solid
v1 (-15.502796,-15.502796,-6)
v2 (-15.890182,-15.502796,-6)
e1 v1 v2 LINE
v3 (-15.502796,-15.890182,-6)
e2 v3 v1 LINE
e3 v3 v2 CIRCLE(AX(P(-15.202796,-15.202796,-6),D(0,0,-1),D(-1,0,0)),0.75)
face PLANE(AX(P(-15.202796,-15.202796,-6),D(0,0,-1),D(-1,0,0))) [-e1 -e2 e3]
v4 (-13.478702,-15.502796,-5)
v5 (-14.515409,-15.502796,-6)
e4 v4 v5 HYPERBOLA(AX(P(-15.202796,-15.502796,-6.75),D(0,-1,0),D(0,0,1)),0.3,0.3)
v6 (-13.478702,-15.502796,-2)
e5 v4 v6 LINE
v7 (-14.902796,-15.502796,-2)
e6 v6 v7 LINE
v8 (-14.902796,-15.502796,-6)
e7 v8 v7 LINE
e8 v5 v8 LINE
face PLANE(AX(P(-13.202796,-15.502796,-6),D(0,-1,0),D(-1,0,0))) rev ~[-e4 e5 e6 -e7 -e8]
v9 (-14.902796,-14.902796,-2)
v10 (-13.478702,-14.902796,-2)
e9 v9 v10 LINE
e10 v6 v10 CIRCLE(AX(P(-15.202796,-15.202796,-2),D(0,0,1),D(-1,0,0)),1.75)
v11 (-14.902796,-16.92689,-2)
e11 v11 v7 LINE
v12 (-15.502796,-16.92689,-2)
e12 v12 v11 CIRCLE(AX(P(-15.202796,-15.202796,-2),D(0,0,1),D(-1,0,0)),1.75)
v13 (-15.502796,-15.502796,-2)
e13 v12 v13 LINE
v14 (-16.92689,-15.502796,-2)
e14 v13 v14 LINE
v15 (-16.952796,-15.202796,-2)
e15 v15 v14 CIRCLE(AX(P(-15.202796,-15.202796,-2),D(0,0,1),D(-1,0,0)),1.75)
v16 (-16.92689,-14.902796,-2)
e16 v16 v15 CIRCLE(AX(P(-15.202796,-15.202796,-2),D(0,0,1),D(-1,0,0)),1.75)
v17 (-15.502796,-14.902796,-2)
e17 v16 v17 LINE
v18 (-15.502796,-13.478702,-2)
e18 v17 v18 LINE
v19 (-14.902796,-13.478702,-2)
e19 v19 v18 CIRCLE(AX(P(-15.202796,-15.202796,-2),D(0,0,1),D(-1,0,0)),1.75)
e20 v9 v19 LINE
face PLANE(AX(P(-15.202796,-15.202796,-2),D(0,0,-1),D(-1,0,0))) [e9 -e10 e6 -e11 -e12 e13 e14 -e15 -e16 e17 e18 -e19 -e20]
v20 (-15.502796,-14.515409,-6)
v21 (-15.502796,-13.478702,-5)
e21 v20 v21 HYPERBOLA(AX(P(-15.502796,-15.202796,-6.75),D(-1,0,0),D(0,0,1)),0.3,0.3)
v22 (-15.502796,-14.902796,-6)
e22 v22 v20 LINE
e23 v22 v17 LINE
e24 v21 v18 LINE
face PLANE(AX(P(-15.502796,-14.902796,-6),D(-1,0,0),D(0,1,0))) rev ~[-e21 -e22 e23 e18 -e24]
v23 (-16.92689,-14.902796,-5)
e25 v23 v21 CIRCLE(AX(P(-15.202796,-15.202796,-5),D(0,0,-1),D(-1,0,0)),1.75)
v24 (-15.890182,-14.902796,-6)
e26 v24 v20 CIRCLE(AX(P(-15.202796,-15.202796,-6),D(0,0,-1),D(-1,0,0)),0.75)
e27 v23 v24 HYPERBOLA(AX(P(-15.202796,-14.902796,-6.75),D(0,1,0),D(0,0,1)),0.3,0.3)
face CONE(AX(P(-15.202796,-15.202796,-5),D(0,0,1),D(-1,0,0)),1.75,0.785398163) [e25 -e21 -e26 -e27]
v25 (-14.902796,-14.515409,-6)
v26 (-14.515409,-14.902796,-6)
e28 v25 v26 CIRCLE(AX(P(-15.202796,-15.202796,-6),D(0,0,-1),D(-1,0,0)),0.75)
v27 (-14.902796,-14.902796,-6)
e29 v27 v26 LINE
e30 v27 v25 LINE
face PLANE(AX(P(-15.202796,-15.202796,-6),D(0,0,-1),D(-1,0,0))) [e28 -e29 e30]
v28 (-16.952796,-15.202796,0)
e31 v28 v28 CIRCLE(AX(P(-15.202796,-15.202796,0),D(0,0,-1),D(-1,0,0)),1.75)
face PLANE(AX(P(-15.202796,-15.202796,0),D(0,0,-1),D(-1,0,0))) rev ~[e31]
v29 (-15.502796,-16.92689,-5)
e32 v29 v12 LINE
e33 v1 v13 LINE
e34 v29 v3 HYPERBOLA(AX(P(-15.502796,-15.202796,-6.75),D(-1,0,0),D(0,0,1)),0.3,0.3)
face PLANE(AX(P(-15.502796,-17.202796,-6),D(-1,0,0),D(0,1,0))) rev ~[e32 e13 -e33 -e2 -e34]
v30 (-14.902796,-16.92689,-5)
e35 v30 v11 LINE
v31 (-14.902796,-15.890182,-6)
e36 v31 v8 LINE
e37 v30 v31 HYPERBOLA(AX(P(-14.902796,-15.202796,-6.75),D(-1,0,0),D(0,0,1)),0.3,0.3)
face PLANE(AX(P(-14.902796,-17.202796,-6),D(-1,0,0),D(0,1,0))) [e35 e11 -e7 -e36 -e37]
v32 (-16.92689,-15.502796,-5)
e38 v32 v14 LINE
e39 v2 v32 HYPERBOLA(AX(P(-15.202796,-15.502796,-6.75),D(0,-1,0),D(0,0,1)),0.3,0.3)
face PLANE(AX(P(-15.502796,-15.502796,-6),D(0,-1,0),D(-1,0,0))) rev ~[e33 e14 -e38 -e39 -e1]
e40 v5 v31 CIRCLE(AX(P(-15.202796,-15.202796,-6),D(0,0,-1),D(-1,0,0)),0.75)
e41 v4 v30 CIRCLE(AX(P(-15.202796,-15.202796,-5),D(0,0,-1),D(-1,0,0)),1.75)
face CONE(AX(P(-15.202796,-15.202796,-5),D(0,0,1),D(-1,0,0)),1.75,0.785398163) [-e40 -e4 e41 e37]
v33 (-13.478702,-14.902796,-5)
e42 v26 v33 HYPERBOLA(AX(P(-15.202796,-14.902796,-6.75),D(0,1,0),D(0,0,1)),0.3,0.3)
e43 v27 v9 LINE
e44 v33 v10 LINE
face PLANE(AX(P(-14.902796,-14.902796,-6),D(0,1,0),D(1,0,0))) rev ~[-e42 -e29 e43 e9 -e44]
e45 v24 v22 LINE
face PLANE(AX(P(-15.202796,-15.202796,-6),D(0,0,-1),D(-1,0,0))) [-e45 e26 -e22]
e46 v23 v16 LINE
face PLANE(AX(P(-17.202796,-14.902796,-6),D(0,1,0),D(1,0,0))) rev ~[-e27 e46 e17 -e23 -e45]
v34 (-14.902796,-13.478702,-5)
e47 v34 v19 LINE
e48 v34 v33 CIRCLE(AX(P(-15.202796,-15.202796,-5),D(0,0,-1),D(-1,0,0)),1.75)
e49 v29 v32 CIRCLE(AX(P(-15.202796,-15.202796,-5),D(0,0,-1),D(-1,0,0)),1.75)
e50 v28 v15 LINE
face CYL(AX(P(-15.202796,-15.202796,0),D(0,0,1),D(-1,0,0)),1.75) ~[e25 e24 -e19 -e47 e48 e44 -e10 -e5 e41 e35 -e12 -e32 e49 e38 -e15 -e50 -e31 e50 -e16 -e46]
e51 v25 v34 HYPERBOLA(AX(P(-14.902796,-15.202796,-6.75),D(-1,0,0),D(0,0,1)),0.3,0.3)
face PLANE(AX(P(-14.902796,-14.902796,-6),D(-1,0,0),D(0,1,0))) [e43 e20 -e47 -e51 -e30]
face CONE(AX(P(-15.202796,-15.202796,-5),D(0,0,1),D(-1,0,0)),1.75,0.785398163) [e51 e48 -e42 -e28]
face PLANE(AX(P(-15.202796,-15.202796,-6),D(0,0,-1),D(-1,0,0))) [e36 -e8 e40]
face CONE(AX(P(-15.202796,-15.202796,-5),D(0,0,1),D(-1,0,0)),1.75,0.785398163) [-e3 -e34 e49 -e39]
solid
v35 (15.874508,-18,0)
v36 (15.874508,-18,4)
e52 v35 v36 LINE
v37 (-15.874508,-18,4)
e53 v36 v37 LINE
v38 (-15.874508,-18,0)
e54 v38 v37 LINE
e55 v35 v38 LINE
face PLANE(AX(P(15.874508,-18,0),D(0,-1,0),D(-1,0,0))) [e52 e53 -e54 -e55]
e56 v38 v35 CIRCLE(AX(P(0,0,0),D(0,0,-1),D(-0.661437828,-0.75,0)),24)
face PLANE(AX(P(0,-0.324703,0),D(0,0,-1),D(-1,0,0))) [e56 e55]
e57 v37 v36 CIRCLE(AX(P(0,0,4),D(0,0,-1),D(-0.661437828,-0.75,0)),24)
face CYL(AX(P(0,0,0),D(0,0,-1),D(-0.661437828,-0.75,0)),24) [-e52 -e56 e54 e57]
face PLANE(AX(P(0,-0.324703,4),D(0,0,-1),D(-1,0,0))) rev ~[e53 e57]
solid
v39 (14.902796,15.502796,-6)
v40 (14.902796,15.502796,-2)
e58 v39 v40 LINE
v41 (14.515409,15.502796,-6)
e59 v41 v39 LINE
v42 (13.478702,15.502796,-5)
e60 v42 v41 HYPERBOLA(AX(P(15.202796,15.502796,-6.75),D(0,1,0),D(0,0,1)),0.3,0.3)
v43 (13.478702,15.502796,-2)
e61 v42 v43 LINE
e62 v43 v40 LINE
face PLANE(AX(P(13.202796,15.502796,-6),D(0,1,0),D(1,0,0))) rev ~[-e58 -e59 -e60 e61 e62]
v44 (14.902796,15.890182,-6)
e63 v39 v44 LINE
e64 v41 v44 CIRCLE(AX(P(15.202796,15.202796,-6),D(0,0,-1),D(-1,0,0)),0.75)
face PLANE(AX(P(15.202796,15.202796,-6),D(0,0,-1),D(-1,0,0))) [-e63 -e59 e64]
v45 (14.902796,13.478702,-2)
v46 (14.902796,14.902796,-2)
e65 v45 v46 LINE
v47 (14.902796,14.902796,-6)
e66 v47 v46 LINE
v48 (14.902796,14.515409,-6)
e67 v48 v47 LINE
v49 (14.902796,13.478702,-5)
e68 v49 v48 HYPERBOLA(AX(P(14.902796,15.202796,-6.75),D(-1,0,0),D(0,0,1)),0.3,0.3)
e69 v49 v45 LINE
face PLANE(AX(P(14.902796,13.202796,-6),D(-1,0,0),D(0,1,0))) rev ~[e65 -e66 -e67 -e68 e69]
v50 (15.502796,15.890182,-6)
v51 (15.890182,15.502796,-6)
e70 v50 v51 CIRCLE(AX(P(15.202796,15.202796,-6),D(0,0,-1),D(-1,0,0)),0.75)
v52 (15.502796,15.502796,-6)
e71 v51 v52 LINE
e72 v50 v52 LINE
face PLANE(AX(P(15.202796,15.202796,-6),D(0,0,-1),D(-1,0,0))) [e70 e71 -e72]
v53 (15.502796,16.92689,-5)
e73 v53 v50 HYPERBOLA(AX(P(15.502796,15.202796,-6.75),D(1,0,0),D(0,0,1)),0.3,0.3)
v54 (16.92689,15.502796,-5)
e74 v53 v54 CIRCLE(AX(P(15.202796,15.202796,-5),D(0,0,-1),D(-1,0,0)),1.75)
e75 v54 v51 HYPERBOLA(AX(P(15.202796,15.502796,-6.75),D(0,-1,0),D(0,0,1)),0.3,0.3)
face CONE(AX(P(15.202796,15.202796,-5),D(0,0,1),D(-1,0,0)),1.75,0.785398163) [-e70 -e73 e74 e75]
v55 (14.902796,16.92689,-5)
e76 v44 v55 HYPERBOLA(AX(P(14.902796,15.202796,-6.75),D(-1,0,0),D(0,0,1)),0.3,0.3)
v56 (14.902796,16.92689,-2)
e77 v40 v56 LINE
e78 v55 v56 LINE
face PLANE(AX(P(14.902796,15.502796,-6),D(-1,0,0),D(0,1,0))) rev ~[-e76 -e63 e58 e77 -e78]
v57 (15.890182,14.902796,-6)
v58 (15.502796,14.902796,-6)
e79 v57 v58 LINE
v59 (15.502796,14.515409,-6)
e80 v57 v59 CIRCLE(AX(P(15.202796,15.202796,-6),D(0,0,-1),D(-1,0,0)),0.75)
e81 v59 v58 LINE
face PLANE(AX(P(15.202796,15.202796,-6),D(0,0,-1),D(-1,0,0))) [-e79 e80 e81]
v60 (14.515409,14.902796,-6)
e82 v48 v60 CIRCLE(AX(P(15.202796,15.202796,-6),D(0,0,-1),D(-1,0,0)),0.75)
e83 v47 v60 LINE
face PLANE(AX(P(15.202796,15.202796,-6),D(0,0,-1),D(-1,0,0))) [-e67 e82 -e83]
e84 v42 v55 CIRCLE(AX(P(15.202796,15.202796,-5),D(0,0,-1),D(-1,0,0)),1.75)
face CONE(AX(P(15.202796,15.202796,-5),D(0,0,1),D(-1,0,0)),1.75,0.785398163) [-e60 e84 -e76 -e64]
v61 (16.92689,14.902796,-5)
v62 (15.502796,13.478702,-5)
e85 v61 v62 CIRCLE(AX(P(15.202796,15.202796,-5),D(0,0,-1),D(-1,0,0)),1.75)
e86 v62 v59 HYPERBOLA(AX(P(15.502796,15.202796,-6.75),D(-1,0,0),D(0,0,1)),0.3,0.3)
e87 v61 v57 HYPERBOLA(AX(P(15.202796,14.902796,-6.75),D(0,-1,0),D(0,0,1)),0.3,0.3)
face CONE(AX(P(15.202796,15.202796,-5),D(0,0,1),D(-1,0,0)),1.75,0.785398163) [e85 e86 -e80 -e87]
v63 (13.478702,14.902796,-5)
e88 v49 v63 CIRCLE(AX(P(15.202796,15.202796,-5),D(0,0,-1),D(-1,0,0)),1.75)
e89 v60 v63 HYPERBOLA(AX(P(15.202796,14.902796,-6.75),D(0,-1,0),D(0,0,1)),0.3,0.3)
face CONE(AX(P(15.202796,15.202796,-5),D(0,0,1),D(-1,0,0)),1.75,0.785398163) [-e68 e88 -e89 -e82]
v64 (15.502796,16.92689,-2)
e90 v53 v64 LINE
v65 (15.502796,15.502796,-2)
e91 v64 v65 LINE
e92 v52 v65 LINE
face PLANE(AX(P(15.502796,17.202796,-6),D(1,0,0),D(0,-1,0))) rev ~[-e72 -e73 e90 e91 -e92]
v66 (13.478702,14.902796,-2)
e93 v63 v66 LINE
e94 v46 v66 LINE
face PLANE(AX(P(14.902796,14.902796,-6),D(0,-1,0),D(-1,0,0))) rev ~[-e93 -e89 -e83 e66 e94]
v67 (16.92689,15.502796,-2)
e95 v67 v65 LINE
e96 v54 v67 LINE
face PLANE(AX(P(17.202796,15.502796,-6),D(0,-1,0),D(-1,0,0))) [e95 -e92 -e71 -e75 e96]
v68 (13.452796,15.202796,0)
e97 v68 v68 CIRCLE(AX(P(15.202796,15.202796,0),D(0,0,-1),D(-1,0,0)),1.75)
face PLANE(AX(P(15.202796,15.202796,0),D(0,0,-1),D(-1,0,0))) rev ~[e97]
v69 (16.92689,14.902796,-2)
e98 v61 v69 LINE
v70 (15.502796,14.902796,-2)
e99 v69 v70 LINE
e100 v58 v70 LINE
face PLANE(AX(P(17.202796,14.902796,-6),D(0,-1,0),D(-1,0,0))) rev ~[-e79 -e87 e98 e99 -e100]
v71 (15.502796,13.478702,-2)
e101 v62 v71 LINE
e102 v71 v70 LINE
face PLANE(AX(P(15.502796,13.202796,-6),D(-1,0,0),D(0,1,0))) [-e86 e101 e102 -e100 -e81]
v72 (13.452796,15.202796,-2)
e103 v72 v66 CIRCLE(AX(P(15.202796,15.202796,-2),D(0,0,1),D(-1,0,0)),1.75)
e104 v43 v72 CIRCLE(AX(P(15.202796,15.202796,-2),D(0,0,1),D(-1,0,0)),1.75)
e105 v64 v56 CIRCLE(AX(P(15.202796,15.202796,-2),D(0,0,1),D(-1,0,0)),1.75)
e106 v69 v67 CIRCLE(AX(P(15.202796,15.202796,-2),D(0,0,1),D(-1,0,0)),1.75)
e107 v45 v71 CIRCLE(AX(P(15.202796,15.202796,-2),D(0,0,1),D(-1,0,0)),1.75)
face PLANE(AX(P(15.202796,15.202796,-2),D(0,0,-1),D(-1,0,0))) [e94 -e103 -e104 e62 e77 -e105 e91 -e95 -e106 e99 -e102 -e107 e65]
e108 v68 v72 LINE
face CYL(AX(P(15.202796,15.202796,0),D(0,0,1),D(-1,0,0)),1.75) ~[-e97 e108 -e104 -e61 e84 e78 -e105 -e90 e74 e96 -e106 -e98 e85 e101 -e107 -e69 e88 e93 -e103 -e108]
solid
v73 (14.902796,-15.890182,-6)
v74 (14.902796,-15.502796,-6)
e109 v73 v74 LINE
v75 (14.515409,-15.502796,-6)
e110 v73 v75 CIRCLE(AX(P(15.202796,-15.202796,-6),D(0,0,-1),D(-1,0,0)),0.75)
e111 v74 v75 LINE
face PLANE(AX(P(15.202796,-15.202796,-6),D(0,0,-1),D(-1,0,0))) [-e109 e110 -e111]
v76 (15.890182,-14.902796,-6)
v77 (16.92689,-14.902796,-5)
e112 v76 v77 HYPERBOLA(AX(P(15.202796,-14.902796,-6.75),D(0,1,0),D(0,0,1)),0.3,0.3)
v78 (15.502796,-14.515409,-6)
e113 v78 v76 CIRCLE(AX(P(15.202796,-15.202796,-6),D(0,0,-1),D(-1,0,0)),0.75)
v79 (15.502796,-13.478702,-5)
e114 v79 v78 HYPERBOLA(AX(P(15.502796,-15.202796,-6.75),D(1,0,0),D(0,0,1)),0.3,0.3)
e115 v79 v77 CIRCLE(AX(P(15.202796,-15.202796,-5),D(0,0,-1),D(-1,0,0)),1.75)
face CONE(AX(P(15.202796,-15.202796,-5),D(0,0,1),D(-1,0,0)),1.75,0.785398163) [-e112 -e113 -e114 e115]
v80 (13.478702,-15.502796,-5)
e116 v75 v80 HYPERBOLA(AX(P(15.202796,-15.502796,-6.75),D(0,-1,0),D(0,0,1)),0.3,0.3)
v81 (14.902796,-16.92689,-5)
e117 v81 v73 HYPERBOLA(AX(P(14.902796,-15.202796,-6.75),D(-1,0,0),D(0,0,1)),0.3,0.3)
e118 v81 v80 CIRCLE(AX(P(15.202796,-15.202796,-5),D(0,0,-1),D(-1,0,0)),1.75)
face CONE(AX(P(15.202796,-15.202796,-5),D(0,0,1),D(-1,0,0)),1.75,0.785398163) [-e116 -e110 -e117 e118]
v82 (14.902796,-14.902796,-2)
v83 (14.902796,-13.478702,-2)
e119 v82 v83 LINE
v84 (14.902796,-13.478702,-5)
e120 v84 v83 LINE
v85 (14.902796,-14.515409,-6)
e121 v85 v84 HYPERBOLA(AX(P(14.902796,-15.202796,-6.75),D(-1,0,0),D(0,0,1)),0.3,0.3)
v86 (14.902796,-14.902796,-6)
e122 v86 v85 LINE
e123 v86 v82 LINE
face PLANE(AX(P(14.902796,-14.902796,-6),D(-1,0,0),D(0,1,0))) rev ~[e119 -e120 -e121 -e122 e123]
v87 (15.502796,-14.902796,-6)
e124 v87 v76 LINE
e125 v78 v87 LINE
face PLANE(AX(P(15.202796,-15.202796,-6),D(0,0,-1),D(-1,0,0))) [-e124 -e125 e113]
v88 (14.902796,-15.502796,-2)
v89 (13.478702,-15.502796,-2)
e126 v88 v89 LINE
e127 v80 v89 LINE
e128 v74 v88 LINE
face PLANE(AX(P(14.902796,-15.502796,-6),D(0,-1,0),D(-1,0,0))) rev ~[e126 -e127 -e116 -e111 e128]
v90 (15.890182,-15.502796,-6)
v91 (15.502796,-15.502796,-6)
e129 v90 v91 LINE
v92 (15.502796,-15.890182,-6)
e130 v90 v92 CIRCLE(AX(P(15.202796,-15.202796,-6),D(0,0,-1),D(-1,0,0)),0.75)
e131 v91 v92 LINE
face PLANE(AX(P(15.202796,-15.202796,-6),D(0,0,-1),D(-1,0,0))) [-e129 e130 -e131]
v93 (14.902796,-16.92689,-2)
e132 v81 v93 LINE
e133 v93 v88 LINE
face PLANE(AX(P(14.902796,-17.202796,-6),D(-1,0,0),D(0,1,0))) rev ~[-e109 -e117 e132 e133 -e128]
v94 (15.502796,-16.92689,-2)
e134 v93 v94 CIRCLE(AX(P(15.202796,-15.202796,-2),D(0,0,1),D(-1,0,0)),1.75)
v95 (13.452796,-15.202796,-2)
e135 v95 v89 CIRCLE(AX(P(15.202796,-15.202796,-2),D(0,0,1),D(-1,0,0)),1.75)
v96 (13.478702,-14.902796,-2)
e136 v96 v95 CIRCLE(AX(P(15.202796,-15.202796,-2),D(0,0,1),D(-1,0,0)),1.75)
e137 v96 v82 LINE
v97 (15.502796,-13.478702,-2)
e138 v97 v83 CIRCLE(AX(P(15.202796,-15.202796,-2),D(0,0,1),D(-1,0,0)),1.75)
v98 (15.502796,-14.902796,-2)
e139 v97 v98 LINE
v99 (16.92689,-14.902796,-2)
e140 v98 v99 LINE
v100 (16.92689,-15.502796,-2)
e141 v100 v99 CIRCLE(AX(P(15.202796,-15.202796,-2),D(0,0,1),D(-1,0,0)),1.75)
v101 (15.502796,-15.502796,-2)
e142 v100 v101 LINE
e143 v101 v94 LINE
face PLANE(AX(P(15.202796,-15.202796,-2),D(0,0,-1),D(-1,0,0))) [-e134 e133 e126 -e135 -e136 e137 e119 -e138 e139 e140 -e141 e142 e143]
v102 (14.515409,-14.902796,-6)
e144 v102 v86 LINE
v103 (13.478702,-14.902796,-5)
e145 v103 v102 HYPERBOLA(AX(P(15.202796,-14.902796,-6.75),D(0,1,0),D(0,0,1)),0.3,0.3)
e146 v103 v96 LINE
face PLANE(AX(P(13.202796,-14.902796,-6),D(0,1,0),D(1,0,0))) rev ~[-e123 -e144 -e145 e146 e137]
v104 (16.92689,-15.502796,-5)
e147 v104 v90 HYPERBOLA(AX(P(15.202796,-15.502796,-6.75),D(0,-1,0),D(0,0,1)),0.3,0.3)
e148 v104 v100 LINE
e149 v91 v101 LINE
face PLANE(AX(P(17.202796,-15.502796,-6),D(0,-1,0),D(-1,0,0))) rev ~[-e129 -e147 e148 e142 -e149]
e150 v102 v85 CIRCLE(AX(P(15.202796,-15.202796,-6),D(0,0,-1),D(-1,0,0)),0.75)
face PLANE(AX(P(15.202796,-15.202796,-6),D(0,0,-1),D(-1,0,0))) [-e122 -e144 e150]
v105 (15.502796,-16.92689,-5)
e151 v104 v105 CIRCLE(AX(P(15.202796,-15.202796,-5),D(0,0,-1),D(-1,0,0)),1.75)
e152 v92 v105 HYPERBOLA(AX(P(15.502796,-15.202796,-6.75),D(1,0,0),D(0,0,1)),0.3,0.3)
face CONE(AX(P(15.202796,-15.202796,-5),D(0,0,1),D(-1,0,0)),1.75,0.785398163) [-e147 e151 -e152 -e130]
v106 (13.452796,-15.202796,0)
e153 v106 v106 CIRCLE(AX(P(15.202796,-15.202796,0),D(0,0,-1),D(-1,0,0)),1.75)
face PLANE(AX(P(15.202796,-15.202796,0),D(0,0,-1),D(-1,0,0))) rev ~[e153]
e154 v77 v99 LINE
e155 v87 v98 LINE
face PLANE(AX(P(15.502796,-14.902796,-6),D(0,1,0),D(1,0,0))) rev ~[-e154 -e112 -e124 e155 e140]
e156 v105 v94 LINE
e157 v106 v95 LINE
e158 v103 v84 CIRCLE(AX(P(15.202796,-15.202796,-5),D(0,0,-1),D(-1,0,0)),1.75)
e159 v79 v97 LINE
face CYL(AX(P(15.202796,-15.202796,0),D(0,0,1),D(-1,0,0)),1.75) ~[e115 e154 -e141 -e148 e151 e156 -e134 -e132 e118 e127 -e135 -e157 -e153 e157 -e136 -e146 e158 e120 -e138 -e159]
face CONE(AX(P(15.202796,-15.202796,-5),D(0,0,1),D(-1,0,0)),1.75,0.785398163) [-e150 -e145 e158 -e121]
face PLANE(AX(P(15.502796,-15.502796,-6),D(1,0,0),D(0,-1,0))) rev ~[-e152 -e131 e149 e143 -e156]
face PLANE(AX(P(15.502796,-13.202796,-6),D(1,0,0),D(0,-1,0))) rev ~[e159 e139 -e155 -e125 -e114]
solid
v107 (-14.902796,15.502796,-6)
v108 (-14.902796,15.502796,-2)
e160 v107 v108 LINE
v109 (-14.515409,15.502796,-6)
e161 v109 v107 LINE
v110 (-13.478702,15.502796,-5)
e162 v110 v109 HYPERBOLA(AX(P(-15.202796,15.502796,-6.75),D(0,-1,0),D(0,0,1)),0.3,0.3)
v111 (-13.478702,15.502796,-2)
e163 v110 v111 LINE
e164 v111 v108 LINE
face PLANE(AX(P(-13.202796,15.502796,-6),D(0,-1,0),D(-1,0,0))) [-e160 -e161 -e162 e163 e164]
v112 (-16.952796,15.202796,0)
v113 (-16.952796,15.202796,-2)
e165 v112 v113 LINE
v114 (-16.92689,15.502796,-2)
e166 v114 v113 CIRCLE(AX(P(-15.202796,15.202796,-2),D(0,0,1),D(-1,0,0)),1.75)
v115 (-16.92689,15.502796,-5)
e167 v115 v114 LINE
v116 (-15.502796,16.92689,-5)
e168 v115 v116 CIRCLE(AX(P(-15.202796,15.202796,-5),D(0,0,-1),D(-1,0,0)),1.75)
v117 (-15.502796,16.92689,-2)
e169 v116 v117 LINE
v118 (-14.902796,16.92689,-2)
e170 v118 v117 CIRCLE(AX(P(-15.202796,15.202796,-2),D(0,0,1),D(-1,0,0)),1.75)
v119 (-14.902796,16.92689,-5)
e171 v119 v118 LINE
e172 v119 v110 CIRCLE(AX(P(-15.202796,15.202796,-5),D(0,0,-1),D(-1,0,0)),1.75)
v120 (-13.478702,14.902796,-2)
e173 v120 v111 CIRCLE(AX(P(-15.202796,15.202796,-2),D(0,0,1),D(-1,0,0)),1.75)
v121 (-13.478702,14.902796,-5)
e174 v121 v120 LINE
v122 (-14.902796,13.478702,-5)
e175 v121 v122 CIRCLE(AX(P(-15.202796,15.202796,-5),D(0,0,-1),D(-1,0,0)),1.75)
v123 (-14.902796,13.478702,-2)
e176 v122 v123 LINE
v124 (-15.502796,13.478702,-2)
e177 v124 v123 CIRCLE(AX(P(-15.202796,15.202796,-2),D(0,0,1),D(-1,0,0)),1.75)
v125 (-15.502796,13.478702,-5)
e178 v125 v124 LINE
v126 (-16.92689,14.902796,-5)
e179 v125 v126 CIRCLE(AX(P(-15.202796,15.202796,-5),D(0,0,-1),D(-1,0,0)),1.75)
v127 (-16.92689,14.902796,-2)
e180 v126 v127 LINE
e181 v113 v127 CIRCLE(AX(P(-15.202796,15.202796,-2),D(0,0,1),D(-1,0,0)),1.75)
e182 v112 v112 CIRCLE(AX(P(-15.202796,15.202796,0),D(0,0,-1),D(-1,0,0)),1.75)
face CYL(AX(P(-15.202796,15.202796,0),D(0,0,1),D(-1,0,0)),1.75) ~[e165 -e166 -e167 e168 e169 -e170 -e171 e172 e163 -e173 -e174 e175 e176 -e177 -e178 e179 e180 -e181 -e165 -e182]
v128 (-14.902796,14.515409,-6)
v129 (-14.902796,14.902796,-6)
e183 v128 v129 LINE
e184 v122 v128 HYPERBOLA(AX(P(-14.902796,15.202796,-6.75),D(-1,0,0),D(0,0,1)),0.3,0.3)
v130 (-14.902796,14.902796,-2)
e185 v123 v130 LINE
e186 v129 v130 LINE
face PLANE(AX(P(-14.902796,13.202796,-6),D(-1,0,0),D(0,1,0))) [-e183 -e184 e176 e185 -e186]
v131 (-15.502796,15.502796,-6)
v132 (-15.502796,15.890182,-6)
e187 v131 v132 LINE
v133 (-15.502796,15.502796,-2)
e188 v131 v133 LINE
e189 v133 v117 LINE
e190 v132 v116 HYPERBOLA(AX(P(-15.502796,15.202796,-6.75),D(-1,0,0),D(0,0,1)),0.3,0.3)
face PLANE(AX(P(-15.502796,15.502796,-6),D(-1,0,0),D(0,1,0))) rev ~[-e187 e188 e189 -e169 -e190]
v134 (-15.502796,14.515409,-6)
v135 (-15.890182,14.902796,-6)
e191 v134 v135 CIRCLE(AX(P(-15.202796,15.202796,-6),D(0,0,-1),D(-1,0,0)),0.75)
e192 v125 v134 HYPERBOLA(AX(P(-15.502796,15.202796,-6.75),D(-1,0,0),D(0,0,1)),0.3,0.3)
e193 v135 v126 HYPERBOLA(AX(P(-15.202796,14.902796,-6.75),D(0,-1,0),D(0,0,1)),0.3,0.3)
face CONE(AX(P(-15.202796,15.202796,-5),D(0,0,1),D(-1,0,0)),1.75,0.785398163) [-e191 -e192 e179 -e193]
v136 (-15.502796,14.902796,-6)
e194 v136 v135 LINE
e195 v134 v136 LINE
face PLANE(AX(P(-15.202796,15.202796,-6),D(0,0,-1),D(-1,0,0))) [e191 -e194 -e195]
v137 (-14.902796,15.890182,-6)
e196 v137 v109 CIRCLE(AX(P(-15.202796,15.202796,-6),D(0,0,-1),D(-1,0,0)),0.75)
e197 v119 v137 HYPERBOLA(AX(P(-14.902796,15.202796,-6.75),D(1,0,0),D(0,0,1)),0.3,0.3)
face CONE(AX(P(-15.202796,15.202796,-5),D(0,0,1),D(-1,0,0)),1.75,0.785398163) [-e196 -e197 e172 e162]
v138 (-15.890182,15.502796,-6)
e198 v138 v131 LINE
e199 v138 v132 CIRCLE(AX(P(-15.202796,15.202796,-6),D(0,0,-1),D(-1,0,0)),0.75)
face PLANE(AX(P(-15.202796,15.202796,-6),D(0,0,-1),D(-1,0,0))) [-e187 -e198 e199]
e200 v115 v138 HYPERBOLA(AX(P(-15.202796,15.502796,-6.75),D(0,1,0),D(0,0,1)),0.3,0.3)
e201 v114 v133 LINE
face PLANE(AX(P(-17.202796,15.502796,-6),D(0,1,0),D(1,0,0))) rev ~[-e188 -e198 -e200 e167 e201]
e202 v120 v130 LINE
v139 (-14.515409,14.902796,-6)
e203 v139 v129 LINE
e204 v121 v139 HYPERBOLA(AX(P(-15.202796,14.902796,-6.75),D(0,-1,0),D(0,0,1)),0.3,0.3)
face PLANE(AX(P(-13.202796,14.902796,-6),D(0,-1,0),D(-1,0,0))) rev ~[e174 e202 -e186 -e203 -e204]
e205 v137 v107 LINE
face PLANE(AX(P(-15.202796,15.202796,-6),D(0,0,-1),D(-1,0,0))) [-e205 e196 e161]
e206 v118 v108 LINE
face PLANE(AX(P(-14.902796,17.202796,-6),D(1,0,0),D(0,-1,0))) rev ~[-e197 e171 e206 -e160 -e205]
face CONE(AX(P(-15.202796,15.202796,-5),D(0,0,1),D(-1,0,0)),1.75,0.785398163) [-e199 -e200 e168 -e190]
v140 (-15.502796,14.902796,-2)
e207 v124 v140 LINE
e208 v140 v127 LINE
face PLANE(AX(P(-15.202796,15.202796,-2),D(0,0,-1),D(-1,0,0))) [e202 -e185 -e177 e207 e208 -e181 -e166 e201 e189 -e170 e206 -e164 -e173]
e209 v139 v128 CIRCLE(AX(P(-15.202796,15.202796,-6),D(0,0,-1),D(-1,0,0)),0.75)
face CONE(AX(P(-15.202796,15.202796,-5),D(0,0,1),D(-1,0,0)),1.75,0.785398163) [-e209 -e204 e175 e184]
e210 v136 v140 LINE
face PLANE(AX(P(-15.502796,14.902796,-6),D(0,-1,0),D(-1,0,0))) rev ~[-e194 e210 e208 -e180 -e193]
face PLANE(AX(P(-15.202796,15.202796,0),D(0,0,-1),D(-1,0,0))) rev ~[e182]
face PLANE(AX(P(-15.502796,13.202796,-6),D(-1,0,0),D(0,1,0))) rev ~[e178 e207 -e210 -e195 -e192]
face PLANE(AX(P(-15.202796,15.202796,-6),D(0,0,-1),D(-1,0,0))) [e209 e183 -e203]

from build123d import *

# Parameters (mm, degrees)
BOSS_EXTRUDE1_DEPTH   = 4
SKETCH3_R             = 1.75
BOSS_EXTRUDE2_DEPTH   = 6
BOSS_EXTRUDE2_2_DEPTH = 6
BOSS_EXTRUDE2_3_DEPTH = 6
BOSS_EXTRUDE2_4_DEPTH = 6
CHAMFER1_SIZE         = 1
CHAMFER2_SIZE         = 1
CHAMFER3_SIZE         = 1
CHAMFER4_SIZE         = 1
SKETCH4_W             = 0.6
SKETCH4_H             = 0.6
SKETCH4_W_2           = 1.7
SKETCH4_H_2           = 1.7
CUT_EXTRUDE1_DEPTH    = 4


with BuildPart() as part:
    # Sketch1 → Boss-Extrude1 (new body)
    with BuildSketch(Plane.XY):
        with BuildLine():
            Line((15.874507866, -18), (-15.874507866, -18))
            ThreePointArc((-15.874507866, -18), (0, 24), (15.874507866, -18))
        make_face()
    extrude(amount=BOSS_EXTRUDE1_DEPTH)


with BuildPart() as body_2:
    # Sketch3 → Boss-Extrude2 (new body)
    with BuildSketch(Plane(origin=(0, 0, 0), x_dir=(-1, 0, 0), z_dir=(0, 0, -1))):
        with Locations((-15.202795796, -15.202795796)):
            Circle(SKETCH3_R)
    extrude(amount=BOSS_EXTRUDE2_DEPTH)

    # Chamfer2
    chamfer2_edges = [body_2.edges().sort_by_distance(p)[0] for p in [
        (16.952795796, -15.202795796, -6),
    ]]
    chamfer(chamfer2_edges, length=CHAMFER2_SIZE)


with BuildPart() as body_3:
    # Sketch3 → Boss-Extrude2 2 (new body)
    with BuildSketch(Plane(origin=(0, 0, 0), x_dir=(-1, 0, 0), z_dir=(0, 0, -1))):
        with Locations((15.202795796, -15.202795796)):
            Circle(SKETCH3_R)
    extrude(amount=BOSS_EXTRUDE2_2_DEPTH)

    # Chamfer4
    chamfer4_edges = [body_3.edges().sort_by_distance(p)[0] for p in [
        (-13.452795796, -15.202795796, -6),
    ]]
    chamfer(chamfer4_edges, length=CHAMFER4_SIZE)


with BuildPart() as body_4:
    # Sketch3 → Boss-Extrude2 3 (new body)
    with BuildSketch(Plane(origin=(0, 0, 0), x_dir=(-1, 0, 0), z_dir=(0, 0, -1))):
        with Locations((15.202795796, 15.202795796)):
            Circle(SKETCH3_R)
    extrude(amount=BOSS_EXTRUDE2_3_DEPTH)

    # Chamfer3
    chamfer3_edges = [body_4.edges().sort_by_distance(p)[0] for p in [
        (-13.452795796, 15.202795796, -6),
    ]]
    chamfer(chamfer3_edges, length=CHAMFER3_SIZE)


with BuildPart() as body_5:
    # Sketch3 → Boss-Extrude2 4 (new body)
    with BuildSketch(Plane(origin=(0, 0, 0), x_dir=(-1, 0, 0), z_dir=(0, 0, -1))):
        with Locations((-15.202795796, 15.202795796)):
            Circle(SKETCH3_R)
    extrude(amount=BOSS_EXTRUDE2_4_DEPTH)

    # Chamfer1
    chamfer1_edges = [body_5.edges().sort_by_distance(p)[0] for p in [
        (16.952795796, 15.202795796, -6),
    ]]
    chamfer(chamfer1_edges, length=CHAMFER1_SIZE)


with BuildPart() as cut_extrude1_tool:
    # Sketch4 → Cut-Extrude1 (new body)
    with BuildSketch(Plane(origin=(0, 0, -6), x_dir=(-1, 0, 0), z_dir=(0, 0, -1))):
        with Locations((15.202795796, -15.202795796)):
            Rectangle(SKETCH4_W, SKETCH4_H)
        with Locations((16.352795796, -15.202795796)):
            Rectangle(SKETCH4_W_2, SKETCH4_H)
        with Locations((14.052795796, -15.202795796)):
            Rectangle(SKETCH4_W_2, SKETCH4_H)
        with Locations((15.202795796, -14.052795796)):
            Rectangle(SKETCH4_W, SKETCH4_H_2)
        with Locations((15.202795796, -16.352795796)):
            Rectangle(SKETCH4_W, SKETCH4_H_2)
        with Locations((-15.202795796, -15.202795796)):
            Rectangle(SKETCH4_W, SKETCH4_H)
        with BuildLine():
            Line((-14.515409441, -14.902795796), (-14.902795796, -14.902795796))
            Line((-14.902795796, -14.902795796), (-14.902795796, -15.502795796))
            Line((-14.902795796, -15.502795796), (-14.515409441, -15.502795796))
            ThreePointArc((-14.515409441, -15.502795796), (-14.468616061, -15.356028028), (-14.452795796, -15.202795796))
            ThreePointArc((-14.452795796, -15.202795796), (-14.468616061, -15.049563563), (-14.515409441, -14.902795796))
        make_face()
        with BuildLine():
            Line((-13.202795796, -14.902795796), (-14.515409441, -14.902795796))
            ThreePointArc((-14.515409441, -14.902795796), (-14.468616061, -15.049563563), (-14.452795796, -15.202795796))
            ThreePointArc((-14.452795796, -15.202795796), (-14.468616061, -15.356028028), (-14.515409441, -15.502795796))
            Line((-14.515409441, -15.502795796), (-13.202795796, -15.502795796))
            Line((-13.202795796, -15.502795796), (-13.202795796, -14.902795796))
        make_face()
        with BuildLine():
            Line((-14.902795796, -15.502795796), (-15.502795796, -15.502795796))
            Line((-15.502795796, -15.502795796), (-15.502795796, -15.89018215))
            ThreePointArc((-15.502795796, -15.89018215), (-15.202795796, -15.952795796), (-14.902795796, -15.89018215))
            Line((-14.902795796, -15.89018215), (-14.902795796, -15.502795796))
        make_face()
        with BuildLine():
            ThreePointArc((-14.902795796, -15.89018215), (-15.202795796, -15.952795796), (-15.502795796, -15.89018215))
            Line((-15.502795796, -15.89018215), (-15.502795796, -17.202795796))
            Line((-15.502795796, -17.202795796), (-14.902795796, -17.202795796))
            Line((-14.902795796, -17.202795796), (-14.902795796, -15.89018215))
        make_face()
        with BuildLine():
            Line((-15.502795796, -15.502795796), (-15.502795796, -14.902795796))
            Line((-15.502795796, -14.902795796), (-15.89018215, -14.902795796))
            ThreePointArc((-15.89018215, -14.902795796), (-15.952795796, -15.202795796), (-15.89018215, -15.502795796))
            Line((-15.89018215, -15.502795796), (-15.502795796, -15.502795796))
        make_face()
        with BuildLine():
            ThreePointArc((-15.89018215, -15.502795796), (-15.952795796, -15.202795796), (-15.89018215, -14.902795796))
            Line((-15.89018215, -14.902795796), (-17.202795796, -14.902795796))
            Line((-17.202795796, -14.902795796), (-17.202795796, -15.502795796))
            Line((-17.202795796, -15.502795796), (-15.89018215, -15.502795796))
        make_face()
        with BuildLine():
            ThreePointArc((-14.902795796, -14.515409441), (-15.202795796, -14.452795796), (-15.502795796, -14.515409441))
            Line((-15.502795796, -14.515409441), (-15.502795796, -14.902795796))
            Line((-15.502795796, -14.902795796), (-14.902795796, -14.902795796))
            Line((-14.902795796, -14.902795796), (-14.902795796, -14.515409441))
        make_face()
        with BuildLine():
            Line((-14.902795796, -13.202795796), (-15.502795796, -13.202795796))
            Line((-15.502795796, -13.202795796), (-15.502795796, -14.515409441))
            ThreePointArc((-15.502795796, -14.515409441), (-15.202795796, -14.452795796), (-14.902795796, -14.515409441))
            Line((-14.902795796, -14.515409441), (-14.902795796, -13.202795796))
        make_face()
        with Locations((15.202795796, 15.202795796)):
            Rectangle(SKETCH4_W, SKETCH4_H)
        with Locations((16.352795796, 15.202795796)):
            Rectangle(SKETCH4_W_2, SKETCH4_H)
        with Locations((15.202795796, 16.352795796)):
            Rectangle(SKETCH4_W, SKETCH4_H_2)
        with Locations((14.052795796, 15.202795796)):
            Rectangle(SKETCH4_W_2, SKETCH4_H)
        with Locations((15.202795796, 14.052795796)):
            Rectangle(SKETCH4_W, SKETCH4_H_2)
        with Locations((-15.202795796, 15.202795796)):
            Rectangle(SKETCH4_W, SKETCH4_H)
        with Locations((-14.052795796, 15.202795796)):
            Rectangle(SKETCH4_W_2, SKETCH4_H)
        with Locations((-15.202795796, 16.352795796)):
            Rectangle(SKETCH4_W, SKETCH4_H_2)
        with Locations((-16.352795796, 15.202795796)):
            Rectangle(SKETCH4_W_2, SKETCH4_H)
        with Locations((-15.202795796, 14.052795796)):
            Rectangle(SKETCH4_W, SKETCH4_H_2)
    extrude(amount=-CUT_EXTRUDE1_DEPTH)


with BuildPart() as body_2_1:
    add(body_2.part)

    # Cut-Extrude1: cut by cut_extrude1_tool
    add(cut_extrude1_tool.part, mode=Mode.SUBTRACT)


with BuildPart() as body_3_1:
    add(body_3.part)

    # Cut-Extrude1: cut by cut_extrude1_tool
    add(cut_extrude1_tool.part, mode=Mode.SUBTRACT)


with BuildPart() as body_4_1:
    add(body_4.part)

    # Cut-Extrude1: cut by cut_extrude1_tool
    add(cut_extrude1_tool.part, mode=Mode.SUBTRACT)


with BuildPart() as body_5_1:
    add(body_5.part)

    # Cut-Extrude1: cut by cut_extrude1_tool
    add(cut_extrude1_tool.part, mode=Mode.SUBTRACT)


solid = Compound([part.part, body_2_1.part, body_3_1.part, body_4_1.part, body_5_1.part])
